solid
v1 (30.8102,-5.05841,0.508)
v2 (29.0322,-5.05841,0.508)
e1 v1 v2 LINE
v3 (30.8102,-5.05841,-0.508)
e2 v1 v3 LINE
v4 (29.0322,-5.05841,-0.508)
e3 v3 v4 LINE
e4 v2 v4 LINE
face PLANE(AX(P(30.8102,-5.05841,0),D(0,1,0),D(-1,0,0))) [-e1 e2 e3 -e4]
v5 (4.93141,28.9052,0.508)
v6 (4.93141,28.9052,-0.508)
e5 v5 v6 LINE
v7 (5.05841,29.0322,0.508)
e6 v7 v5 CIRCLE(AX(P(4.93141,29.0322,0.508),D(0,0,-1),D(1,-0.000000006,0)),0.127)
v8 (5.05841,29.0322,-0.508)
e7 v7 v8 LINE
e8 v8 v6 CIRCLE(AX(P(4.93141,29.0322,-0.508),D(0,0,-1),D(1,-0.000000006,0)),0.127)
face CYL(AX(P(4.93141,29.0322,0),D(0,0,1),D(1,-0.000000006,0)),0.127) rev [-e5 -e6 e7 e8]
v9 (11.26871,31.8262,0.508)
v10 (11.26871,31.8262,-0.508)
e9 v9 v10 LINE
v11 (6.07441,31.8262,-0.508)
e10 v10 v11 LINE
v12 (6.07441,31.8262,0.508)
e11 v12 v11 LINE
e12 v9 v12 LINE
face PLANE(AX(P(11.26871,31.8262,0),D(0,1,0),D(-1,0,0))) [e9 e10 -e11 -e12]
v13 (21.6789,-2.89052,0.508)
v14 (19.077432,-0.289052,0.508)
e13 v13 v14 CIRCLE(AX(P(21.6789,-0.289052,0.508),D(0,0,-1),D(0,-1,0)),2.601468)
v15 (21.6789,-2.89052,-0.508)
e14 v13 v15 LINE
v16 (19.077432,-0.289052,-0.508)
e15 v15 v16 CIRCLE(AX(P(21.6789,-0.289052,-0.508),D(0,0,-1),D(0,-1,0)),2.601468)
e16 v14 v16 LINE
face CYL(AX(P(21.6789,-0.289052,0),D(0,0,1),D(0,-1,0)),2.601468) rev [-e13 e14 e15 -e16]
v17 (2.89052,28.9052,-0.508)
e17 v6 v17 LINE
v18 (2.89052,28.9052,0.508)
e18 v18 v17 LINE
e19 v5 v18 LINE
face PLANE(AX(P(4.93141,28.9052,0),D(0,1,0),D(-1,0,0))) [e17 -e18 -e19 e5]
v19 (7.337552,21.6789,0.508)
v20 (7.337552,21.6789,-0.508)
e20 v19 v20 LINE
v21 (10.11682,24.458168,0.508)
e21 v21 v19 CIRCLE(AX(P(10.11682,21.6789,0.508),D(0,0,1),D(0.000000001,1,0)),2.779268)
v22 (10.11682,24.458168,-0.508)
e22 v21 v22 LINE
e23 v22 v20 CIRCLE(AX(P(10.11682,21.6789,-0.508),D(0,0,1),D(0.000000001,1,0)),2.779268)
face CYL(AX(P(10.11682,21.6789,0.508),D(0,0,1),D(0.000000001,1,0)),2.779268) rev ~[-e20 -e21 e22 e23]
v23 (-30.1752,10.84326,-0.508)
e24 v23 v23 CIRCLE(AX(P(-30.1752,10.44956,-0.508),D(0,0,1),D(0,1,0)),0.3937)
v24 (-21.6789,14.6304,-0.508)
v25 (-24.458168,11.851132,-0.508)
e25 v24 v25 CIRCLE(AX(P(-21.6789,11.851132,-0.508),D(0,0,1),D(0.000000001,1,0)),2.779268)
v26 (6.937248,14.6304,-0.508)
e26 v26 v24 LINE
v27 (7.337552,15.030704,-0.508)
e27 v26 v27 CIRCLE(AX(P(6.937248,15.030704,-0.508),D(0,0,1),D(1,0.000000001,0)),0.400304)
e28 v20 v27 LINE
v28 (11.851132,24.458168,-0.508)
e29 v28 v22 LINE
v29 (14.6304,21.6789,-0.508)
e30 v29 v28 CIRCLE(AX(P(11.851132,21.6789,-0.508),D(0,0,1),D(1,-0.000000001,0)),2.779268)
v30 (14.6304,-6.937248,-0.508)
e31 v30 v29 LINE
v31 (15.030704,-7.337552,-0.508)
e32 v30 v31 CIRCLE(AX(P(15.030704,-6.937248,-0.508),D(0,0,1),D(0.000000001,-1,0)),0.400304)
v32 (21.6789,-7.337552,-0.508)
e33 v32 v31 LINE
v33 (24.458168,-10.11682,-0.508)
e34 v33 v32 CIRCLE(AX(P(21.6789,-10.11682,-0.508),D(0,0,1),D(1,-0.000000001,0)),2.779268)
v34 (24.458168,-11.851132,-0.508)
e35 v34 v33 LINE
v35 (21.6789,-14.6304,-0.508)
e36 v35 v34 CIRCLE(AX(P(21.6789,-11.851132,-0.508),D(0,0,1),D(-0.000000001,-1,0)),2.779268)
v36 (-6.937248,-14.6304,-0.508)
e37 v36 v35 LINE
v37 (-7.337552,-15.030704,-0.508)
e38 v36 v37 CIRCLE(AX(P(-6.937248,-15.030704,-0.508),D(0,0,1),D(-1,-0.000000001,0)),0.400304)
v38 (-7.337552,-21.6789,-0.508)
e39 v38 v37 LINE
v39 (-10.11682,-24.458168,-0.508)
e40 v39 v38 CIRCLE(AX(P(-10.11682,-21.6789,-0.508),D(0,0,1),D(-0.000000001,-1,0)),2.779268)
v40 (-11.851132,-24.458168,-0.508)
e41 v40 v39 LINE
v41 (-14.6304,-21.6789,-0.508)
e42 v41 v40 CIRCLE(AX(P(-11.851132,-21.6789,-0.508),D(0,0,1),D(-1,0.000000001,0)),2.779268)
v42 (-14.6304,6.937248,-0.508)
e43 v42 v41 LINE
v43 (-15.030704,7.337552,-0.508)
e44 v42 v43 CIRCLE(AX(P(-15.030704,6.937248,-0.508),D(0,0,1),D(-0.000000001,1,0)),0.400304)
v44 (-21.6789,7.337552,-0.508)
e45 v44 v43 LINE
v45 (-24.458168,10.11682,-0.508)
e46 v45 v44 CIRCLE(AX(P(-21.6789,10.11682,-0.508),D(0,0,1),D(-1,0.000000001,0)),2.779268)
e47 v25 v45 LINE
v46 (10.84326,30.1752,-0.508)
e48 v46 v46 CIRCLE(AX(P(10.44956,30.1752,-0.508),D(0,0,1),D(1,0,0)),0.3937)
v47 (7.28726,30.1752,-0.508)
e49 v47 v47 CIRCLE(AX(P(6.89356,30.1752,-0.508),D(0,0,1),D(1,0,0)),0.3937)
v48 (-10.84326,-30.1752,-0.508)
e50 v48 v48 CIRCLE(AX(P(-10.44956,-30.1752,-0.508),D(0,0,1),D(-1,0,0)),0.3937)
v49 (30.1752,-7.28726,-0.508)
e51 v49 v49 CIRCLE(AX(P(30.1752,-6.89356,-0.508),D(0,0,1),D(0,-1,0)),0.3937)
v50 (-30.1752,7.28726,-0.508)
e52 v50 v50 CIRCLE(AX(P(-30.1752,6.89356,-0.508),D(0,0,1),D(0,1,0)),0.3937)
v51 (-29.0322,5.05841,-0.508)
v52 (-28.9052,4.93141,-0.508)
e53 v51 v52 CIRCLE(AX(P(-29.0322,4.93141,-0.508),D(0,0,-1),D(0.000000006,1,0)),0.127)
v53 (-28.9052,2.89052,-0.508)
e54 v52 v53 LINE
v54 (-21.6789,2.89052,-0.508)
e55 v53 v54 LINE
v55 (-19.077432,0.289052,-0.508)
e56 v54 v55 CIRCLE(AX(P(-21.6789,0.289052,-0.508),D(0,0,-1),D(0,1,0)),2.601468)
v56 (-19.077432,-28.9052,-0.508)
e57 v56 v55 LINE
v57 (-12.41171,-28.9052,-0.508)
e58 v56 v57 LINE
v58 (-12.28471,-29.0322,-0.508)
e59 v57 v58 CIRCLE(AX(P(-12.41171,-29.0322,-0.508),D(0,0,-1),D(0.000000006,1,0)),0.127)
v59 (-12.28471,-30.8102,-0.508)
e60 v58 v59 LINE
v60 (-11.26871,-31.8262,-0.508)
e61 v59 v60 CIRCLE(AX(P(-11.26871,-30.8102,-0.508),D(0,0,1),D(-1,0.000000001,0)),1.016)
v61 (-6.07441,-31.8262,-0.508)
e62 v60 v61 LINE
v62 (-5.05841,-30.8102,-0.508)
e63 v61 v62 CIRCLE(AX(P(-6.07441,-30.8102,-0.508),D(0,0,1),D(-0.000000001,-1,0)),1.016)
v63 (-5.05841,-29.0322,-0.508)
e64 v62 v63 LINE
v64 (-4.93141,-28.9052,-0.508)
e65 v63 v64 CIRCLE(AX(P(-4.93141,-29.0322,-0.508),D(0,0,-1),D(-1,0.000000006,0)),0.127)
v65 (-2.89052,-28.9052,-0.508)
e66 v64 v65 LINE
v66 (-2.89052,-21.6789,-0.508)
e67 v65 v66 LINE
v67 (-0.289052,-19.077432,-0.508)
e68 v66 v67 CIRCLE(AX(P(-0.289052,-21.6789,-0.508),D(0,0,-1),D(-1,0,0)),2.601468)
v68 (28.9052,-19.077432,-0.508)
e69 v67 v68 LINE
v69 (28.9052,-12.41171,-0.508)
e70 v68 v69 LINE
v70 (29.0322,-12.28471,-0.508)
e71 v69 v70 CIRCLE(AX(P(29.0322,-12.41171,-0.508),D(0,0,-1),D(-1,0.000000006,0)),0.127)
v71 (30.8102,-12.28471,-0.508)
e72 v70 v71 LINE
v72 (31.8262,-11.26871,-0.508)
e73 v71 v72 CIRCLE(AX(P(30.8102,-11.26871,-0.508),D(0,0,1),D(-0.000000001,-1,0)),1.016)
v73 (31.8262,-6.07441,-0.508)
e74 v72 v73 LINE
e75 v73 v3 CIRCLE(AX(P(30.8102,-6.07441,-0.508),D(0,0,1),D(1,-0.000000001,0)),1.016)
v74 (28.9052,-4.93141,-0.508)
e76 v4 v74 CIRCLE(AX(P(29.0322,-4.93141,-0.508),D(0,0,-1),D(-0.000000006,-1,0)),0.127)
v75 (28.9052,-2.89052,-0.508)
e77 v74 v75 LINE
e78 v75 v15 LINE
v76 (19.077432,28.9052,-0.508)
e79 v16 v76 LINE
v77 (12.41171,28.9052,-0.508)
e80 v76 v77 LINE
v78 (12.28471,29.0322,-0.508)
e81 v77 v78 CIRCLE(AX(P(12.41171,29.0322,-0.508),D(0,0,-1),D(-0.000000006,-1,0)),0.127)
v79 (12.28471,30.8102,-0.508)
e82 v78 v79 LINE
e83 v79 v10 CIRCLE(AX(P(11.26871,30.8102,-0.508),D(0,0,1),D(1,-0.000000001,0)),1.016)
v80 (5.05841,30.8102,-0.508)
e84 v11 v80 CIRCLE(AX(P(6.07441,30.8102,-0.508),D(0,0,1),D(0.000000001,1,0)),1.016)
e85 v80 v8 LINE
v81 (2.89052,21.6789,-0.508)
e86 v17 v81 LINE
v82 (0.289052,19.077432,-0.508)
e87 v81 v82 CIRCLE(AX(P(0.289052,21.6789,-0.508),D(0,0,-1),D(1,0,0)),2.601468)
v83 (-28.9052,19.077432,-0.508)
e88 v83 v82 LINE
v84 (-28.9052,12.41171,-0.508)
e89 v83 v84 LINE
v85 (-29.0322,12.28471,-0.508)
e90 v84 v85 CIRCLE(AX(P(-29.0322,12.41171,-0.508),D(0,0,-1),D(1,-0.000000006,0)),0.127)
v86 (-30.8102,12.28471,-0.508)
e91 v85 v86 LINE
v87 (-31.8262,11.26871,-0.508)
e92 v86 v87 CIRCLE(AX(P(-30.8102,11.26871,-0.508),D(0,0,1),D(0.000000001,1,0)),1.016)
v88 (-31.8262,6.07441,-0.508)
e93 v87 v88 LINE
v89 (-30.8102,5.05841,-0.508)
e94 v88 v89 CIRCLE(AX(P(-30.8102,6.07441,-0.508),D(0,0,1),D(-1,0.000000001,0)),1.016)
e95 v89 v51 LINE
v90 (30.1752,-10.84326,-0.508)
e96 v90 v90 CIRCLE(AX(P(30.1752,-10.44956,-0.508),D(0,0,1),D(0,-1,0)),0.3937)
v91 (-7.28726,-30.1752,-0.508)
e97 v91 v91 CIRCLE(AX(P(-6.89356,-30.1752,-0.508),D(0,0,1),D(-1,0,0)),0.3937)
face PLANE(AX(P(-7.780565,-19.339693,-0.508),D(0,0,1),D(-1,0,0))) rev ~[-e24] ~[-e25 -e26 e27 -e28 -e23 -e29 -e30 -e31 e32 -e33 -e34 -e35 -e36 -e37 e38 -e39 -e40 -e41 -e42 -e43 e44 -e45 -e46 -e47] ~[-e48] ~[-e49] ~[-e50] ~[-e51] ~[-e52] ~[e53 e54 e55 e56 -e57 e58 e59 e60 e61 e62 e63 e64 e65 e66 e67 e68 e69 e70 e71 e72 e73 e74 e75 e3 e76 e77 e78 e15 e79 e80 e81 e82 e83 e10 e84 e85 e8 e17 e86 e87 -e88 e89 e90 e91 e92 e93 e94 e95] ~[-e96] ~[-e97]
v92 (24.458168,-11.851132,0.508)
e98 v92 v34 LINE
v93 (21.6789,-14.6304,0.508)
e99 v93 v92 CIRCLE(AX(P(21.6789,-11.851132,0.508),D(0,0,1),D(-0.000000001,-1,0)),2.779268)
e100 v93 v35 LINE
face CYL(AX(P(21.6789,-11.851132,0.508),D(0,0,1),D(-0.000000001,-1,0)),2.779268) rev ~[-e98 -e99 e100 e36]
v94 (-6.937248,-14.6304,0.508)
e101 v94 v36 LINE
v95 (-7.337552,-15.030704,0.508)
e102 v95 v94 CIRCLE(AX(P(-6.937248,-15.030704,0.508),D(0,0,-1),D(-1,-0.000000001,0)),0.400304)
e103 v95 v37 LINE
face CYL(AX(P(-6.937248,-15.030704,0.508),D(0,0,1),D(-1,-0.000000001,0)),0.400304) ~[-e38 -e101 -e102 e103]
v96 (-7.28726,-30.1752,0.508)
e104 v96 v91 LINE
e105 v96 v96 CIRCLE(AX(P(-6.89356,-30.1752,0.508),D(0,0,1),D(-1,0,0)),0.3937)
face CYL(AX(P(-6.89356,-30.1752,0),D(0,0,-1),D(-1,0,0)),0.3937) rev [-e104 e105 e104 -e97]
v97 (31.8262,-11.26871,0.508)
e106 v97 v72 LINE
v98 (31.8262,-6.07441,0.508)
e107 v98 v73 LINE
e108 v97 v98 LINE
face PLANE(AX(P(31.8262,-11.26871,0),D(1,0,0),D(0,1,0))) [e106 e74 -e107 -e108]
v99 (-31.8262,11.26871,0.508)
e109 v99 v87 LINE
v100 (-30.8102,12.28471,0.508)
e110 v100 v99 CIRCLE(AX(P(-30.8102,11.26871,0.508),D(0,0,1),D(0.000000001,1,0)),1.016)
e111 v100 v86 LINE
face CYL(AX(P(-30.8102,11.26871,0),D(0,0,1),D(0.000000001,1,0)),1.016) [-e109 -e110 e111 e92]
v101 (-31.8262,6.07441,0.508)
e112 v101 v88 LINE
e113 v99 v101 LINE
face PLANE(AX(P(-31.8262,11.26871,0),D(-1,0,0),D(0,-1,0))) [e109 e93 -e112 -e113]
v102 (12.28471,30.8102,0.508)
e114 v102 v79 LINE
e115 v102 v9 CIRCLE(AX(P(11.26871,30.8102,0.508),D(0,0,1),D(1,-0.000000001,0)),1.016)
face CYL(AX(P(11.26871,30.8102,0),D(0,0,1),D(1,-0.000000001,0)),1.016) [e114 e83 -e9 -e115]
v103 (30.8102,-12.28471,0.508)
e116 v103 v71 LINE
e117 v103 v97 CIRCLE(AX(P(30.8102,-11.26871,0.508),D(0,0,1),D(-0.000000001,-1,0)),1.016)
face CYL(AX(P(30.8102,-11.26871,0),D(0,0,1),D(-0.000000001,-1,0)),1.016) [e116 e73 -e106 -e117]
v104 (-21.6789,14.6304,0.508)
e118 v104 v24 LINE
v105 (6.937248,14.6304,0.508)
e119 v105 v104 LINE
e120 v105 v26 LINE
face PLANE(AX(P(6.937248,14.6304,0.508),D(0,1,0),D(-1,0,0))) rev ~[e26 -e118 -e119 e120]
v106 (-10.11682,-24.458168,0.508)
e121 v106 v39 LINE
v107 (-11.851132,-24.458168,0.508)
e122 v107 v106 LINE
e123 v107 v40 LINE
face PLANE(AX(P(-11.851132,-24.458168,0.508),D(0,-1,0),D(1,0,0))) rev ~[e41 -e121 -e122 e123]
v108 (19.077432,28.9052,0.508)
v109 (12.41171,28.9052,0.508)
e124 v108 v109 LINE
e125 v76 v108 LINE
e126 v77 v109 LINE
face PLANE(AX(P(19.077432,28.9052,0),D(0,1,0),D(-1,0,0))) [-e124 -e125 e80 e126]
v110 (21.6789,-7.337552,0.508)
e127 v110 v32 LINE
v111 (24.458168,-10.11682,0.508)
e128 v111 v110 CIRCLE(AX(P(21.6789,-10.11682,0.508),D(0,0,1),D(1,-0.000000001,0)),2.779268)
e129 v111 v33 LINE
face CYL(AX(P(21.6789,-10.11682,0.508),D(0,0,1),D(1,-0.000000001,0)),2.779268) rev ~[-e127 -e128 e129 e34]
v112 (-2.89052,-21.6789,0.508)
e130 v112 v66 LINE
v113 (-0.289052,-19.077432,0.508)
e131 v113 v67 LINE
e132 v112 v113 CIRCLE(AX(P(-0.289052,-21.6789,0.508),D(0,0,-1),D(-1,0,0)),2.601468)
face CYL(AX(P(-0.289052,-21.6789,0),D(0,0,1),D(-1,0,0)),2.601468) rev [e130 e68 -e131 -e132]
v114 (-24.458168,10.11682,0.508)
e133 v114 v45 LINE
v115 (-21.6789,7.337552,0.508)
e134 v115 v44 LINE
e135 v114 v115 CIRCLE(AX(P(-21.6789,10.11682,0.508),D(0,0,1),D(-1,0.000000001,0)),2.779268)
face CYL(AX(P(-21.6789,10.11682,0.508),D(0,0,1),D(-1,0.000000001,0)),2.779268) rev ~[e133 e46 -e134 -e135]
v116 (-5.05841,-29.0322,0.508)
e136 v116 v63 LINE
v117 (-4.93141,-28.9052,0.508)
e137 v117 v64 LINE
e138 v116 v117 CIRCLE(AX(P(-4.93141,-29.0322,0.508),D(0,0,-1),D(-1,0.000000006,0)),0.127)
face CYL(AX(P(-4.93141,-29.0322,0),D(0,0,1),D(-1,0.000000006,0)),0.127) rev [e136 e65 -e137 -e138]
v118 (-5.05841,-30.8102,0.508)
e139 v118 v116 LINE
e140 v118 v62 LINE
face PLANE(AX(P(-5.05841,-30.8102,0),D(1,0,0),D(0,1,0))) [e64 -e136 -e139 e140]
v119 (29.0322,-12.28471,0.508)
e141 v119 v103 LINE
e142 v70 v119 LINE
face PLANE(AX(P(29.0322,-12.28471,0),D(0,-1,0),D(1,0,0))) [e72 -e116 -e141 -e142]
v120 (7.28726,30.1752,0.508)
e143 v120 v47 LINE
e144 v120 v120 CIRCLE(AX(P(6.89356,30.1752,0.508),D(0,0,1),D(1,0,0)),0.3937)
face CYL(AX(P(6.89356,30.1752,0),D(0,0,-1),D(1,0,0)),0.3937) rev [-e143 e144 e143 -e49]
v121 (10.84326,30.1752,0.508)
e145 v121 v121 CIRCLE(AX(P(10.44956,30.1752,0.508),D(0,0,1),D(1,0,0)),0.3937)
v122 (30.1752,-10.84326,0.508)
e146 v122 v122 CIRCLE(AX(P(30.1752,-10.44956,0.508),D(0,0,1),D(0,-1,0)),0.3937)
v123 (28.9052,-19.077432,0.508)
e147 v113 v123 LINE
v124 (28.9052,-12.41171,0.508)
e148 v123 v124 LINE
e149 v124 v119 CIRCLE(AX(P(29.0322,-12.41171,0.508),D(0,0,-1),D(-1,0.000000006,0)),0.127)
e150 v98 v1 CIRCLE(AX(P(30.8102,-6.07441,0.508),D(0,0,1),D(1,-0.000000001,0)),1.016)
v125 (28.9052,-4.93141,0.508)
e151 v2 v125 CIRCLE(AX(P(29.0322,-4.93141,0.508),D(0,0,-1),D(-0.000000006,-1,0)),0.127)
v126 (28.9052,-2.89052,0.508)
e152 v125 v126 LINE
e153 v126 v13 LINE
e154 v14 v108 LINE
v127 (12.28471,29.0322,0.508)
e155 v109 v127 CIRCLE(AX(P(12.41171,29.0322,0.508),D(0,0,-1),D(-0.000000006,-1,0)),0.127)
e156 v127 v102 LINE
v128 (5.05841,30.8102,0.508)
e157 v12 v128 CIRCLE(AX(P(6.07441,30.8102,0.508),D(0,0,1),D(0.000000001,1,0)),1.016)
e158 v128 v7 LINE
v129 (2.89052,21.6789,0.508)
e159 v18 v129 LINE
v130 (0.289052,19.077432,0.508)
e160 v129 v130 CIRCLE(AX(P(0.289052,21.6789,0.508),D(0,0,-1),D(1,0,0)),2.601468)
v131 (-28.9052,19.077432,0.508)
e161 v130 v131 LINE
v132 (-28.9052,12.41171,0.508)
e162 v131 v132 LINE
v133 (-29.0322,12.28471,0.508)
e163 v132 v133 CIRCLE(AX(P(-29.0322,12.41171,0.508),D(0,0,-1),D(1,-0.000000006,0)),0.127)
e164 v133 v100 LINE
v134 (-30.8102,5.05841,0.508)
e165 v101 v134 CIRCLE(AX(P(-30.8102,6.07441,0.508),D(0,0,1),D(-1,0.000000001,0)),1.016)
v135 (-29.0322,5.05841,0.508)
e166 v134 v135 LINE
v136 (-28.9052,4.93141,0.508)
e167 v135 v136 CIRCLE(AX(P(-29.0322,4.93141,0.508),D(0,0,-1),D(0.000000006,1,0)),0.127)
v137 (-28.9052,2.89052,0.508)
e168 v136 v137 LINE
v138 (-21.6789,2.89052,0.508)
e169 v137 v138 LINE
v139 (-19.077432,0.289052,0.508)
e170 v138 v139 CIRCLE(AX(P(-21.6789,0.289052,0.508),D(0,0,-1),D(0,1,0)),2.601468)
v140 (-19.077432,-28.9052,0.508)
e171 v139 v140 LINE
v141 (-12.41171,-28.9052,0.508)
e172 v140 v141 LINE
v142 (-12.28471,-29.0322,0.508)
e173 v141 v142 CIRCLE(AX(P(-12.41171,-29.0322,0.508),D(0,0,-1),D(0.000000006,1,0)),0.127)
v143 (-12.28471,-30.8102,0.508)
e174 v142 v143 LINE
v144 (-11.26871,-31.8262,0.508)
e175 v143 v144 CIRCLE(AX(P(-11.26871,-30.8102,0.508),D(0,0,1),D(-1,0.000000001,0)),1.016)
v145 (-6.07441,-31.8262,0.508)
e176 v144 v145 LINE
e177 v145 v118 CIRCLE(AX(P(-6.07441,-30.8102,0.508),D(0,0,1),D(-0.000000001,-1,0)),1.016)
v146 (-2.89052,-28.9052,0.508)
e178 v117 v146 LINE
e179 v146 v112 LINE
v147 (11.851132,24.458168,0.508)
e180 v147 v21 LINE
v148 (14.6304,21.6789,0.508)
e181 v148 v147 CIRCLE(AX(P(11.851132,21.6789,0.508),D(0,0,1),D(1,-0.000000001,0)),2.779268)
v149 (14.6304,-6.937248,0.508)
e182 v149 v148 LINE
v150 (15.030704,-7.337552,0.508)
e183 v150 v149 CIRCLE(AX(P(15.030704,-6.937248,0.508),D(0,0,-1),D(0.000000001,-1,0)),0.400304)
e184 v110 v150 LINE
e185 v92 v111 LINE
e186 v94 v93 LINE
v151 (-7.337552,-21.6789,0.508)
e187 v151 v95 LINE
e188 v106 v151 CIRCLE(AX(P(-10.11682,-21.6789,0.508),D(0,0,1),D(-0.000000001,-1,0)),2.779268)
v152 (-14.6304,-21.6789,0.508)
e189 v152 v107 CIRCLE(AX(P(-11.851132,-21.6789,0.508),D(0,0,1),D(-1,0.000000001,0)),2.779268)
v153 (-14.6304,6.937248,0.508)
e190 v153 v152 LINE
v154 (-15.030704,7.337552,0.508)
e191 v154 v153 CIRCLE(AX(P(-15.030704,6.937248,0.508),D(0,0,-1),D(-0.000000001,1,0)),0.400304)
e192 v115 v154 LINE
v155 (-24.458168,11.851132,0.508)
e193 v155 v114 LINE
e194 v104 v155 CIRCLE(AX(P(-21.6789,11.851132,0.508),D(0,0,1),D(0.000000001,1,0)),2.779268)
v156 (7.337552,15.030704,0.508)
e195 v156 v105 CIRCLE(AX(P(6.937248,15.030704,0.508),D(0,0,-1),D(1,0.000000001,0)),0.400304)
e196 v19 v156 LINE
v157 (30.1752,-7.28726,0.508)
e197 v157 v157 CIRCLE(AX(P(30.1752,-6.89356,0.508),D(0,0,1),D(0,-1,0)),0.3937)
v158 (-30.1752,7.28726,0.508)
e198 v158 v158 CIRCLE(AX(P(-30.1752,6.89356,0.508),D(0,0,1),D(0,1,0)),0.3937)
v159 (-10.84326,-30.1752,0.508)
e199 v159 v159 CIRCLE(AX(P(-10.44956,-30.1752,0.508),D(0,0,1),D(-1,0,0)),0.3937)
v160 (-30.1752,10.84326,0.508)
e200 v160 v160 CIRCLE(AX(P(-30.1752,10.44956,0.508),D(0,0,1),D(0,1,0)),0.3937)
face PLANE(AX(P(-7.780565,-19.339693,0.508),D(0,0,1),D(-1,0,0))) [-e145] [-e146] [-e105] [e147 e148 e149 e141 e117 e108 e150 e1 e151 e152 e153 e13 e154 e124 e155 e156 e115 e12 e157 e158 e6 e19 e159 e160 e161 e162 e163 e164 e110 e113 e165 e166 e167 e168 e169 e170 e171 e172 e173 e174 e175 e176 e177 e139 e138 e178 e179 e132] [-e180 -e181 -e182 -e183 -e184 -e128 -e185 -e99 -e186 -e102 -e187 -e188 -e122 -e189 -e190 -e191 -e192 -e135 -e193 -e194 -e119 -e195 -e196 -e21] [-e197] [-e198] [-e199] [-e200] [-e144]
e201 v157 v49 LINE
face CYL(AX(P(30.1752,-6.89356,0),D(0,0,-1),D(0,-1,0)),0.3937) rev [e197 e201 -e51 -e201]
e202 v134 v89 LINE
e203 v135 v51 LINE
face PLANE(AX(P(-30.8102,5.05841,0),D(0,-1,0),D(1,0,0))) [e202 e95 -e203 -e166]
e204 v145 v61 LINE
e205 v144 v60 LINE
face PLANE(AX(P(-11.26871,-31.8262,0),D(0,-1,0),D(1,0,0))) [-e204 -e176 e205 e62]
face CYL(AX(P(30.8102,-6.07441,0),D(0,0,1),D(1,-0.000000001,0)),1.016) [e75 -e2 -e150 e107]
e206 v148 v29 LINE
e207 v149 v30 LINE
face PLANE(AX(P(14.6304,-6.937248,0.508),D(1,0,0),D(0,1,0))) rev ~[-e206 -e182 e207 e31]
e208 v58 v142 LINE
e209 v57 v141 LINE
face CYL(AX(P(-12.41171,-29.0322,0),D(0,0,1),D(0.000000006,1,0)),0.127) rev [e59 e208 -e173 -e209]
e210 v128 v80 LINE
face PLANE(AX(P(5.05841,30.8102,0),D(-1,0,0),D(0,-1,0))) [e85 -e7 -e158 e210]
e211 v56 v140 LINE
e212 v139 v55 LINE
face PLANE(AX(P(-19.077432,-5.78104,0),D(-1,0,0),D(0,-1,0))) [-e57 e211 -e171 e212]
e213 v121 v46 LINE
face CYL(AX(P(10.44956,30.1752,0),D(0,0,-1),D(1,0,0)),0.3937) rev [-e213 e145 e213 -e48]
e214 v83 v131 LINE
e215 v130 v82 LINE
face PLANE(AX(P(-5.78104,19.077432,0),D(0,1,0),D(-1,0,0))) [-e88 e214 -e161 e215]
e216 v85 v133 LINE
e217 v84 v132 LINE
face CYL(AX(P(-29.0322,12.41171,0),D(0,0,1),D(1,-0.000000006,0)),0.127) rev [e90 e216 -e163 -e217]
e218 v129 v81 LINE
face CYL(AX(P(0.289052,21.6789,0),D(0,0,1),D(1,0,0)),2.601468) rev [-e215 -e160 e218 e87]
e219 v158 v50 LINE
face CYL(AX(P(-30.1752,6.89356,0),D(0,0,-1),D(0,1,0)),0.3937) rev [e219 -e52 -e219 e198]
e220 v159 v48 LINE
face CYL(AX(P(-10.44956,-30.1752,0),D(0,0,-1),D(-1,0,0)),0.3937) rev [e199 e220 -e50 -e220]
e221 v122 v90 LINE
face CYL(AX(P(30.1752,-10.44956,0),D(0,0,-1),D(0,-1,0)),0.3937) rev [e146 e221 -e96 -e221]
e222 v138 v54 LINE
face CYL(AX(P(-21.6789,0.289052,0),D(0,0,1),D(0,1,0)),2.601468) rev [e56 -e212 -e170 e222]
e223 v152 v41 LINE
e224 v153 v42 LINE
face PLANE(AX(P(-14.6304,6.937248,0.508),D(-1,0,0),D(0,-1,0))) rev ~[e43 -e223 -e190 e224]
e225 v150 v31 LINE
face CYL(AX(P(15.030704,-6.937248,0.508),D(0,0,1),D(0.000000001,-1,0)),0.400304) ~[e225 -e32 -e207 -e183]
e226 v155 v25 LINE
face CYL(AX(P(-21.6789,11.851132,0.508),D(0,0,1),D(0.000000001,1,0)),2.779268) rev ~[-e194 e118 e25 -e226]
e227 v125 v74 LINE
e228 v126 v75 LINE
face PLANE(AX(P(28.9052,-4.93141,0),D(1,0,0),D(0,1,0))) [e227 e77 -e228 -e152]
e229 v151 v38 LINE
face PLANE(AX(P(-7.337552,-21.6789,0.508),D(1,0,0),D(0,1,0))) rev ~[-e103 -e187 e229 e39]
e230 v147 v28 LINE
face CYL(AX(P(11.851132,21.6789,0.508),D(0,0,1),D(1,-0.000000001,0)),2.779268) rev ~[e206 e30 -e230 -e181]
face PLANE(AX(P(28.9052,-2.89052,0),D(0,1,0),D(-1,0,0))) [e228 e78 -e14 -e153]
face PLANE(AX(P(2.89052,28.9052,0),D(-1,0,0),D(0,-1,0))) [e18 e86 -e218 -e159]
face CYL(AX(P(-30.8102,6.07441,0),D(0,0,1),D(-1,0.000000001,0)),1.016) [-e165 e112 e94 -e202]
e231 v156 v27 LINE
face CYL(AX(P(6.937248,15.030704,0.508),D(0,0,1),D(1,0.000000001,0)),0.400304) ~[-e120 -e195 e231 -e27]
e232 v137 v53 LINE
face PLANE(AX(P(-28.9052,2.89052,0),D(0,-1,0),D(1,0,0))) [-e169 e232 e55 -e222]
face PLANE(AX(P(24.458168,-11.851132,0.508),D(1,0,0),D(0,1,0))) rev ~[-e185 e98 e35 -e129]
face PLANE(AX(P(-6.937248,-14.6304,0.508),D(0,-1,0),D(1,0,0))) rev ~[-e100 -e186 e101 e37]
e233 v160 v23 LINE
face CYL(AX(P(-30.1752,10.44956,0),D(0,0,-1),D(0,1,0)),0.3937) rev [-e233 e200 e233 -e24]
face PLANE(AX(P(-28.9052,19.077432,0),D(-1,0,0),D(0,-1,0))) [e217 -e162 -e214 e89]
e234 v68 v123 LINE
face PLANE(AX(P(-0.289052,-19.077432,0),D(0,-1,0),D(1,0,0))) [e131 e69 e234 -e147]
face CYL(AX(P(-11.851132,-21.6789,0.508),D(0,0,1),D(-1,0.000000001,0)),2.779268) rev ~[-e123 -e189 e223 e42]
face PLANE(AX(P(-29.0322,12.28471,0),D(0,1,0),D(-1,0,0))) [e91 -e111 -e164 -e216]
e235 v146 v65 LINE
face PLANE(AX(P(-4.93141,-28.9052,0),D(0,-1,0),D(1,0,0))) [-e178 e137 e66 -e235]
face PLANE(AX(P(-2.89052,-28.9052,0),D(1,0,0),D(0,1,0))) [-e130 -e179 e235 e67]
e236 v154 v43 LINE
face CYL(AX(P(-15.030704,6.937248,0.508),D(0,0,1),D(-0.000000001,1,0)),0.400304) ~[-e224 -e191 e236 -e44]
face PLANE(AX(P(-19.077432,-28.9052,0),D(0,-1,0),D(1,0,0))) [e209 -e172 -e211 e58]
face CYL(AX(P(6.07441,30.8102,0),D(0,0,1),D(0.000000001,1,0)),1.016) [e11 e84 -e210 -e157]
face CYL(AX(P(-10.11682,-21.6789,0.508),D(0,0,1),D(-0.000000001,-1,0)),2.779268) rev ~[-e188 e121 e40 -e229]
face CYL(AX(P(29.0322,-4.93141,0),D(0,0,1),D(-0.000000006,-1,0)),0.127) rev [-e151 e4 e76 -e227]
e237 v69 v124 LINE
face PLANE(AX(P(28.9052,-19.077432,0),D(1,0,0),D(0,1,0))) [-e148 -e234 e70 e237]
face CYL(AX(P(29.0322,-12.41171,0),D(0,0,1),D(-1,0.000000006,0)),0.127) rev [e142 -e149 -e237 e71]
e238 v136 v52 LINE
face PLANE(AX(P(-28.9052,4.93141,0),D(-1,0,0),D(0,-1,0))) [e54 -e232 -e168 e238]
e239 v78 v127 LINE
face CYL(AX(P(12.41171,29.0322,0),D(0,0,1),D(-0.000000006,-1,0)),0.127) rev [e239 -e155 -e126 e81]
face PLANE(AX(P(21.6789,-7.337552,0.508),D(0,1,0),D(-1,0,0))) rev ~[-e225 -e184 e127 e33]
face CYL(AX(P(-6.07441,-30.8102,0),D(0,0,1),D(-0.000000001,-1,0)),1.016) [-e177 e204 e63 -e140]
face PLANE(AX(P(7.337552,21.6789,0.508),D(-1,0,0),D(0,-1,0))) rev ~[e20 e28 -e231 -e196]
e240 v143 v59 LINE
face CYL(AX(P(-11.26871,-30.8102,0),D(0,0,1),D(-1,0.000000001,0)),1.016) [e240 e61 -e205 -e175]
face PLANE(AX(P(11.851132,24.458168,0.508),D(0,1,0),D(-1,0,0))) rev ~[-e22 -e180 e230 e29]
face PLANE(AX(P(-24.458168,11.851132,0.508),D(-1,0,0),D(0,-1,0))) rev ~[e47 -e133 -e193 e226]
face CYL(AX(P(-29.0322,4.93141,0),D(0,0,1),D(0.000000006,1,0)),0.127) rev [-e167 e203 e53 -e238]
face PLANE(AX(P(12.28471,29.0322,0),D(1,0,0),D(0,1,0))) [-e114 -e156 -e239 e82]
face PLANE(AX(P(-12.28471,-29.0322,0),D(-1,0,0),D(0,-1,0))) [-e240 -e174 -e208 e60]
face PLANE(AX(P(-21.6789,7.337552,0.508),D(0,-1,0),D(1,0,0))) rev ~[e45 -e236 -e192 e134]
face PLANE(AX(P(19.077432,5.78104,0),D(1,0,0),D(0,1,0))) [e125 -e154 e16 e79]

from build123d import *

# Parameters (mm, degrees)
SKETCH2_R          = 0.3937
EXTRUDE1_DEPTH     = 0.508
CIRPATTERN1_COUNT  = 4
CUT_EXTRUDE1_DEPTH = 1.27


with BuildPart() as part:
    # Sketch2 → Extrude1 (new, symmetric)
    with BuildSketch(Plane.XY):
        with BuildLine():
            Line((-11.56208, 14.4526), (6.937248, 14.4526))
            ThreePointArc((6.937248, 14.4526), (7.346029259, 14.621922741), (7.515352, 15.030704))
            Line((7.515352, 15.030704), (7.515352, 21.6789))
            ThreePointArc((7.515352, 21.6789), (8.277304336, 23.518415664), (10.11682, 24.280368))
            Line((10.11682, 24.280368), (11.851132, 24.280368))
            ThreePointArc((11.851132, 24.280368), (13.690647664, 23.518415664), (14.4526, 21.6789))
            Line((14.4526, 21.6789), (14.4526, 5.78104))
            Line((14.4526, 5.78104), (19.077432, 5.78104))
            Line((19.077432, 5.78104), (19.077432, 28.9052))
            Line((19.077432, 28.9052), (12.41171, 28.9052))
            ThreePointArc((12.41171, 28.9052), (12.321907439, 28.942397439), (12.28471, 29.0322))
            Line((12.28471, 29.0322), (12.28471, 30.8102))
            ThreePointArc((12.28471, 30.8102), (11.98713049, 31.52862049), (11.26871, 31.8262))
            Line((11.26871, 31.8262), (6.07441, 31.8262))
            ThreePointArc((6.07441, 31.8262), (5.35598951, 31.52862049), (5.05841, 30.8102))
            Line((5.05841, 30.8102), (5.05841, 29.0322))
            ThreePointArc((5.05841, 29.0322), (5.021212561, 28.942397439), (4.93141, 28.9052))
            Line((4.93141, 28.9052), (2.89052, 28.9052))
            Line((2.89052, 28.9052), (2.89052, 21.6789))
            ThreePointArc((2.89052, 21.6789), (2.128567664, 19.839384336), (0.289052, 19.077432))
            Line((0.289052, 19.077432), (-11.56208, 19.077432))
            Line((-11.56208, 19.077432), (-11.56208, 14.4526))
        make_face()
        with Locations((6.89356, 30.1752)):
            Circle(SKETCH2_R, mode=Mode.SUBTRACT)
        with Locations((10.44956, 30.1752)):
            Circle(SKETCH2_R, mode=Mode.SUBTRACT)
    extrude1 = extrude(amount=EXTRUDE1_DEPTH, both=True)

    # CirPattern1: Extrude1 ×4 about axis
    cirpattern1_axis = Axis((0, 0, -69.733664692), (0, 0, 1))
    for i in range(1, CIRPATTERN1_COUNT):
        add(extrude1.rotate(cirpattern1_axis, i * 360 / CIRPATTERN1_COUNT))

    # Sketch4 → Cut-Extrude1 (cut)
    with BuildSketch(Plane.XY.offset(0.508)):
        with BuildLine():
            Line((-11.851132, -24.458168), (-10.11682, -24.458168))
            ThreePointArc((-10.11682, -24.458168), (-8.15158075, -23.64413925), (-7.337552, -21.6789))
            Line((-7.337552, -21.6789), (-7.337552, -15.030704))
            ThreePointArc((-7.337552, -15.030704), (-7.220305673, -14.747646327), (-6.937248, -14.6304))
            Line((-6.937248, -14.6304), (21.6789, -14.6304))
            ThreePointArc((21.6789, -14.6304), (23.64413925, -13.81637125), (24.458168, -11.851132))
            Line((24.458168, -11.851132), (24.458168, -10.11682))
            ThreePointArc((24.458168, -10.11682), (23.64413925, -8.15158075), (21.6789, -7.337552))
            Line((21.6789, -7.337552), (15.030704, -7.337552))
            ThreePointArc((15.030704, -7.337552), (14.747646327, -7.220305673), (14.6304, -6.937248))
            Line((14.6304, -6.937248), (14.6304, 21.6789))
            ThreePointArc((14.6304, 21.6789), (13.81637125, 23.64413925), (11.851132, 24.458168))
            Line((11.851132, 24.458168), (10.11682, 24.458168))
            ThreePointArc((10.11682, 24.458168), (8.15158075, 23.64413925), (7.337552, 21.6789))
            Line((7.337552, 21.6789), (7.337552, 15.030704))
            ThreePointArc((7.337552, 15.030704), (7.220305673, 14.747646327), (6.937248, 14.6304))
            Line((6.937248, 14.6304), (-21.6789, 14.6304))
            ThreePointArc((-21.6789, 14.6304), (-23.64413925, 13.81637125), (-24.458168, 11.851132))
            Line((-24.458168, 11.851132), (-24.458168, 10.11682))
            ThreePointArc((-24.458168, 10.11682), (-23.64413925, 8.15158075), (-21.6789, 7.337552))
            Line((-21.6789, 7.337552), (-15.030704, 7.337552))
            ThreePointArc((-15.030704, 7.337552), (-14.747646327, 7.220305673), (-14.6304, 6.937248))
            Line((-14.6304, 6.937248), (-14.6304, -21.6789))
            ThreePointArc((-14.6304, -21.6789), (-13.81637125, -23.64413925), (-11.851132, -24.458168))
        make_face()
    extrude(amount=-CUT_EXTRUDE1_DEPTH, mode=Mode.SUBTRACT)


solid = part.part
